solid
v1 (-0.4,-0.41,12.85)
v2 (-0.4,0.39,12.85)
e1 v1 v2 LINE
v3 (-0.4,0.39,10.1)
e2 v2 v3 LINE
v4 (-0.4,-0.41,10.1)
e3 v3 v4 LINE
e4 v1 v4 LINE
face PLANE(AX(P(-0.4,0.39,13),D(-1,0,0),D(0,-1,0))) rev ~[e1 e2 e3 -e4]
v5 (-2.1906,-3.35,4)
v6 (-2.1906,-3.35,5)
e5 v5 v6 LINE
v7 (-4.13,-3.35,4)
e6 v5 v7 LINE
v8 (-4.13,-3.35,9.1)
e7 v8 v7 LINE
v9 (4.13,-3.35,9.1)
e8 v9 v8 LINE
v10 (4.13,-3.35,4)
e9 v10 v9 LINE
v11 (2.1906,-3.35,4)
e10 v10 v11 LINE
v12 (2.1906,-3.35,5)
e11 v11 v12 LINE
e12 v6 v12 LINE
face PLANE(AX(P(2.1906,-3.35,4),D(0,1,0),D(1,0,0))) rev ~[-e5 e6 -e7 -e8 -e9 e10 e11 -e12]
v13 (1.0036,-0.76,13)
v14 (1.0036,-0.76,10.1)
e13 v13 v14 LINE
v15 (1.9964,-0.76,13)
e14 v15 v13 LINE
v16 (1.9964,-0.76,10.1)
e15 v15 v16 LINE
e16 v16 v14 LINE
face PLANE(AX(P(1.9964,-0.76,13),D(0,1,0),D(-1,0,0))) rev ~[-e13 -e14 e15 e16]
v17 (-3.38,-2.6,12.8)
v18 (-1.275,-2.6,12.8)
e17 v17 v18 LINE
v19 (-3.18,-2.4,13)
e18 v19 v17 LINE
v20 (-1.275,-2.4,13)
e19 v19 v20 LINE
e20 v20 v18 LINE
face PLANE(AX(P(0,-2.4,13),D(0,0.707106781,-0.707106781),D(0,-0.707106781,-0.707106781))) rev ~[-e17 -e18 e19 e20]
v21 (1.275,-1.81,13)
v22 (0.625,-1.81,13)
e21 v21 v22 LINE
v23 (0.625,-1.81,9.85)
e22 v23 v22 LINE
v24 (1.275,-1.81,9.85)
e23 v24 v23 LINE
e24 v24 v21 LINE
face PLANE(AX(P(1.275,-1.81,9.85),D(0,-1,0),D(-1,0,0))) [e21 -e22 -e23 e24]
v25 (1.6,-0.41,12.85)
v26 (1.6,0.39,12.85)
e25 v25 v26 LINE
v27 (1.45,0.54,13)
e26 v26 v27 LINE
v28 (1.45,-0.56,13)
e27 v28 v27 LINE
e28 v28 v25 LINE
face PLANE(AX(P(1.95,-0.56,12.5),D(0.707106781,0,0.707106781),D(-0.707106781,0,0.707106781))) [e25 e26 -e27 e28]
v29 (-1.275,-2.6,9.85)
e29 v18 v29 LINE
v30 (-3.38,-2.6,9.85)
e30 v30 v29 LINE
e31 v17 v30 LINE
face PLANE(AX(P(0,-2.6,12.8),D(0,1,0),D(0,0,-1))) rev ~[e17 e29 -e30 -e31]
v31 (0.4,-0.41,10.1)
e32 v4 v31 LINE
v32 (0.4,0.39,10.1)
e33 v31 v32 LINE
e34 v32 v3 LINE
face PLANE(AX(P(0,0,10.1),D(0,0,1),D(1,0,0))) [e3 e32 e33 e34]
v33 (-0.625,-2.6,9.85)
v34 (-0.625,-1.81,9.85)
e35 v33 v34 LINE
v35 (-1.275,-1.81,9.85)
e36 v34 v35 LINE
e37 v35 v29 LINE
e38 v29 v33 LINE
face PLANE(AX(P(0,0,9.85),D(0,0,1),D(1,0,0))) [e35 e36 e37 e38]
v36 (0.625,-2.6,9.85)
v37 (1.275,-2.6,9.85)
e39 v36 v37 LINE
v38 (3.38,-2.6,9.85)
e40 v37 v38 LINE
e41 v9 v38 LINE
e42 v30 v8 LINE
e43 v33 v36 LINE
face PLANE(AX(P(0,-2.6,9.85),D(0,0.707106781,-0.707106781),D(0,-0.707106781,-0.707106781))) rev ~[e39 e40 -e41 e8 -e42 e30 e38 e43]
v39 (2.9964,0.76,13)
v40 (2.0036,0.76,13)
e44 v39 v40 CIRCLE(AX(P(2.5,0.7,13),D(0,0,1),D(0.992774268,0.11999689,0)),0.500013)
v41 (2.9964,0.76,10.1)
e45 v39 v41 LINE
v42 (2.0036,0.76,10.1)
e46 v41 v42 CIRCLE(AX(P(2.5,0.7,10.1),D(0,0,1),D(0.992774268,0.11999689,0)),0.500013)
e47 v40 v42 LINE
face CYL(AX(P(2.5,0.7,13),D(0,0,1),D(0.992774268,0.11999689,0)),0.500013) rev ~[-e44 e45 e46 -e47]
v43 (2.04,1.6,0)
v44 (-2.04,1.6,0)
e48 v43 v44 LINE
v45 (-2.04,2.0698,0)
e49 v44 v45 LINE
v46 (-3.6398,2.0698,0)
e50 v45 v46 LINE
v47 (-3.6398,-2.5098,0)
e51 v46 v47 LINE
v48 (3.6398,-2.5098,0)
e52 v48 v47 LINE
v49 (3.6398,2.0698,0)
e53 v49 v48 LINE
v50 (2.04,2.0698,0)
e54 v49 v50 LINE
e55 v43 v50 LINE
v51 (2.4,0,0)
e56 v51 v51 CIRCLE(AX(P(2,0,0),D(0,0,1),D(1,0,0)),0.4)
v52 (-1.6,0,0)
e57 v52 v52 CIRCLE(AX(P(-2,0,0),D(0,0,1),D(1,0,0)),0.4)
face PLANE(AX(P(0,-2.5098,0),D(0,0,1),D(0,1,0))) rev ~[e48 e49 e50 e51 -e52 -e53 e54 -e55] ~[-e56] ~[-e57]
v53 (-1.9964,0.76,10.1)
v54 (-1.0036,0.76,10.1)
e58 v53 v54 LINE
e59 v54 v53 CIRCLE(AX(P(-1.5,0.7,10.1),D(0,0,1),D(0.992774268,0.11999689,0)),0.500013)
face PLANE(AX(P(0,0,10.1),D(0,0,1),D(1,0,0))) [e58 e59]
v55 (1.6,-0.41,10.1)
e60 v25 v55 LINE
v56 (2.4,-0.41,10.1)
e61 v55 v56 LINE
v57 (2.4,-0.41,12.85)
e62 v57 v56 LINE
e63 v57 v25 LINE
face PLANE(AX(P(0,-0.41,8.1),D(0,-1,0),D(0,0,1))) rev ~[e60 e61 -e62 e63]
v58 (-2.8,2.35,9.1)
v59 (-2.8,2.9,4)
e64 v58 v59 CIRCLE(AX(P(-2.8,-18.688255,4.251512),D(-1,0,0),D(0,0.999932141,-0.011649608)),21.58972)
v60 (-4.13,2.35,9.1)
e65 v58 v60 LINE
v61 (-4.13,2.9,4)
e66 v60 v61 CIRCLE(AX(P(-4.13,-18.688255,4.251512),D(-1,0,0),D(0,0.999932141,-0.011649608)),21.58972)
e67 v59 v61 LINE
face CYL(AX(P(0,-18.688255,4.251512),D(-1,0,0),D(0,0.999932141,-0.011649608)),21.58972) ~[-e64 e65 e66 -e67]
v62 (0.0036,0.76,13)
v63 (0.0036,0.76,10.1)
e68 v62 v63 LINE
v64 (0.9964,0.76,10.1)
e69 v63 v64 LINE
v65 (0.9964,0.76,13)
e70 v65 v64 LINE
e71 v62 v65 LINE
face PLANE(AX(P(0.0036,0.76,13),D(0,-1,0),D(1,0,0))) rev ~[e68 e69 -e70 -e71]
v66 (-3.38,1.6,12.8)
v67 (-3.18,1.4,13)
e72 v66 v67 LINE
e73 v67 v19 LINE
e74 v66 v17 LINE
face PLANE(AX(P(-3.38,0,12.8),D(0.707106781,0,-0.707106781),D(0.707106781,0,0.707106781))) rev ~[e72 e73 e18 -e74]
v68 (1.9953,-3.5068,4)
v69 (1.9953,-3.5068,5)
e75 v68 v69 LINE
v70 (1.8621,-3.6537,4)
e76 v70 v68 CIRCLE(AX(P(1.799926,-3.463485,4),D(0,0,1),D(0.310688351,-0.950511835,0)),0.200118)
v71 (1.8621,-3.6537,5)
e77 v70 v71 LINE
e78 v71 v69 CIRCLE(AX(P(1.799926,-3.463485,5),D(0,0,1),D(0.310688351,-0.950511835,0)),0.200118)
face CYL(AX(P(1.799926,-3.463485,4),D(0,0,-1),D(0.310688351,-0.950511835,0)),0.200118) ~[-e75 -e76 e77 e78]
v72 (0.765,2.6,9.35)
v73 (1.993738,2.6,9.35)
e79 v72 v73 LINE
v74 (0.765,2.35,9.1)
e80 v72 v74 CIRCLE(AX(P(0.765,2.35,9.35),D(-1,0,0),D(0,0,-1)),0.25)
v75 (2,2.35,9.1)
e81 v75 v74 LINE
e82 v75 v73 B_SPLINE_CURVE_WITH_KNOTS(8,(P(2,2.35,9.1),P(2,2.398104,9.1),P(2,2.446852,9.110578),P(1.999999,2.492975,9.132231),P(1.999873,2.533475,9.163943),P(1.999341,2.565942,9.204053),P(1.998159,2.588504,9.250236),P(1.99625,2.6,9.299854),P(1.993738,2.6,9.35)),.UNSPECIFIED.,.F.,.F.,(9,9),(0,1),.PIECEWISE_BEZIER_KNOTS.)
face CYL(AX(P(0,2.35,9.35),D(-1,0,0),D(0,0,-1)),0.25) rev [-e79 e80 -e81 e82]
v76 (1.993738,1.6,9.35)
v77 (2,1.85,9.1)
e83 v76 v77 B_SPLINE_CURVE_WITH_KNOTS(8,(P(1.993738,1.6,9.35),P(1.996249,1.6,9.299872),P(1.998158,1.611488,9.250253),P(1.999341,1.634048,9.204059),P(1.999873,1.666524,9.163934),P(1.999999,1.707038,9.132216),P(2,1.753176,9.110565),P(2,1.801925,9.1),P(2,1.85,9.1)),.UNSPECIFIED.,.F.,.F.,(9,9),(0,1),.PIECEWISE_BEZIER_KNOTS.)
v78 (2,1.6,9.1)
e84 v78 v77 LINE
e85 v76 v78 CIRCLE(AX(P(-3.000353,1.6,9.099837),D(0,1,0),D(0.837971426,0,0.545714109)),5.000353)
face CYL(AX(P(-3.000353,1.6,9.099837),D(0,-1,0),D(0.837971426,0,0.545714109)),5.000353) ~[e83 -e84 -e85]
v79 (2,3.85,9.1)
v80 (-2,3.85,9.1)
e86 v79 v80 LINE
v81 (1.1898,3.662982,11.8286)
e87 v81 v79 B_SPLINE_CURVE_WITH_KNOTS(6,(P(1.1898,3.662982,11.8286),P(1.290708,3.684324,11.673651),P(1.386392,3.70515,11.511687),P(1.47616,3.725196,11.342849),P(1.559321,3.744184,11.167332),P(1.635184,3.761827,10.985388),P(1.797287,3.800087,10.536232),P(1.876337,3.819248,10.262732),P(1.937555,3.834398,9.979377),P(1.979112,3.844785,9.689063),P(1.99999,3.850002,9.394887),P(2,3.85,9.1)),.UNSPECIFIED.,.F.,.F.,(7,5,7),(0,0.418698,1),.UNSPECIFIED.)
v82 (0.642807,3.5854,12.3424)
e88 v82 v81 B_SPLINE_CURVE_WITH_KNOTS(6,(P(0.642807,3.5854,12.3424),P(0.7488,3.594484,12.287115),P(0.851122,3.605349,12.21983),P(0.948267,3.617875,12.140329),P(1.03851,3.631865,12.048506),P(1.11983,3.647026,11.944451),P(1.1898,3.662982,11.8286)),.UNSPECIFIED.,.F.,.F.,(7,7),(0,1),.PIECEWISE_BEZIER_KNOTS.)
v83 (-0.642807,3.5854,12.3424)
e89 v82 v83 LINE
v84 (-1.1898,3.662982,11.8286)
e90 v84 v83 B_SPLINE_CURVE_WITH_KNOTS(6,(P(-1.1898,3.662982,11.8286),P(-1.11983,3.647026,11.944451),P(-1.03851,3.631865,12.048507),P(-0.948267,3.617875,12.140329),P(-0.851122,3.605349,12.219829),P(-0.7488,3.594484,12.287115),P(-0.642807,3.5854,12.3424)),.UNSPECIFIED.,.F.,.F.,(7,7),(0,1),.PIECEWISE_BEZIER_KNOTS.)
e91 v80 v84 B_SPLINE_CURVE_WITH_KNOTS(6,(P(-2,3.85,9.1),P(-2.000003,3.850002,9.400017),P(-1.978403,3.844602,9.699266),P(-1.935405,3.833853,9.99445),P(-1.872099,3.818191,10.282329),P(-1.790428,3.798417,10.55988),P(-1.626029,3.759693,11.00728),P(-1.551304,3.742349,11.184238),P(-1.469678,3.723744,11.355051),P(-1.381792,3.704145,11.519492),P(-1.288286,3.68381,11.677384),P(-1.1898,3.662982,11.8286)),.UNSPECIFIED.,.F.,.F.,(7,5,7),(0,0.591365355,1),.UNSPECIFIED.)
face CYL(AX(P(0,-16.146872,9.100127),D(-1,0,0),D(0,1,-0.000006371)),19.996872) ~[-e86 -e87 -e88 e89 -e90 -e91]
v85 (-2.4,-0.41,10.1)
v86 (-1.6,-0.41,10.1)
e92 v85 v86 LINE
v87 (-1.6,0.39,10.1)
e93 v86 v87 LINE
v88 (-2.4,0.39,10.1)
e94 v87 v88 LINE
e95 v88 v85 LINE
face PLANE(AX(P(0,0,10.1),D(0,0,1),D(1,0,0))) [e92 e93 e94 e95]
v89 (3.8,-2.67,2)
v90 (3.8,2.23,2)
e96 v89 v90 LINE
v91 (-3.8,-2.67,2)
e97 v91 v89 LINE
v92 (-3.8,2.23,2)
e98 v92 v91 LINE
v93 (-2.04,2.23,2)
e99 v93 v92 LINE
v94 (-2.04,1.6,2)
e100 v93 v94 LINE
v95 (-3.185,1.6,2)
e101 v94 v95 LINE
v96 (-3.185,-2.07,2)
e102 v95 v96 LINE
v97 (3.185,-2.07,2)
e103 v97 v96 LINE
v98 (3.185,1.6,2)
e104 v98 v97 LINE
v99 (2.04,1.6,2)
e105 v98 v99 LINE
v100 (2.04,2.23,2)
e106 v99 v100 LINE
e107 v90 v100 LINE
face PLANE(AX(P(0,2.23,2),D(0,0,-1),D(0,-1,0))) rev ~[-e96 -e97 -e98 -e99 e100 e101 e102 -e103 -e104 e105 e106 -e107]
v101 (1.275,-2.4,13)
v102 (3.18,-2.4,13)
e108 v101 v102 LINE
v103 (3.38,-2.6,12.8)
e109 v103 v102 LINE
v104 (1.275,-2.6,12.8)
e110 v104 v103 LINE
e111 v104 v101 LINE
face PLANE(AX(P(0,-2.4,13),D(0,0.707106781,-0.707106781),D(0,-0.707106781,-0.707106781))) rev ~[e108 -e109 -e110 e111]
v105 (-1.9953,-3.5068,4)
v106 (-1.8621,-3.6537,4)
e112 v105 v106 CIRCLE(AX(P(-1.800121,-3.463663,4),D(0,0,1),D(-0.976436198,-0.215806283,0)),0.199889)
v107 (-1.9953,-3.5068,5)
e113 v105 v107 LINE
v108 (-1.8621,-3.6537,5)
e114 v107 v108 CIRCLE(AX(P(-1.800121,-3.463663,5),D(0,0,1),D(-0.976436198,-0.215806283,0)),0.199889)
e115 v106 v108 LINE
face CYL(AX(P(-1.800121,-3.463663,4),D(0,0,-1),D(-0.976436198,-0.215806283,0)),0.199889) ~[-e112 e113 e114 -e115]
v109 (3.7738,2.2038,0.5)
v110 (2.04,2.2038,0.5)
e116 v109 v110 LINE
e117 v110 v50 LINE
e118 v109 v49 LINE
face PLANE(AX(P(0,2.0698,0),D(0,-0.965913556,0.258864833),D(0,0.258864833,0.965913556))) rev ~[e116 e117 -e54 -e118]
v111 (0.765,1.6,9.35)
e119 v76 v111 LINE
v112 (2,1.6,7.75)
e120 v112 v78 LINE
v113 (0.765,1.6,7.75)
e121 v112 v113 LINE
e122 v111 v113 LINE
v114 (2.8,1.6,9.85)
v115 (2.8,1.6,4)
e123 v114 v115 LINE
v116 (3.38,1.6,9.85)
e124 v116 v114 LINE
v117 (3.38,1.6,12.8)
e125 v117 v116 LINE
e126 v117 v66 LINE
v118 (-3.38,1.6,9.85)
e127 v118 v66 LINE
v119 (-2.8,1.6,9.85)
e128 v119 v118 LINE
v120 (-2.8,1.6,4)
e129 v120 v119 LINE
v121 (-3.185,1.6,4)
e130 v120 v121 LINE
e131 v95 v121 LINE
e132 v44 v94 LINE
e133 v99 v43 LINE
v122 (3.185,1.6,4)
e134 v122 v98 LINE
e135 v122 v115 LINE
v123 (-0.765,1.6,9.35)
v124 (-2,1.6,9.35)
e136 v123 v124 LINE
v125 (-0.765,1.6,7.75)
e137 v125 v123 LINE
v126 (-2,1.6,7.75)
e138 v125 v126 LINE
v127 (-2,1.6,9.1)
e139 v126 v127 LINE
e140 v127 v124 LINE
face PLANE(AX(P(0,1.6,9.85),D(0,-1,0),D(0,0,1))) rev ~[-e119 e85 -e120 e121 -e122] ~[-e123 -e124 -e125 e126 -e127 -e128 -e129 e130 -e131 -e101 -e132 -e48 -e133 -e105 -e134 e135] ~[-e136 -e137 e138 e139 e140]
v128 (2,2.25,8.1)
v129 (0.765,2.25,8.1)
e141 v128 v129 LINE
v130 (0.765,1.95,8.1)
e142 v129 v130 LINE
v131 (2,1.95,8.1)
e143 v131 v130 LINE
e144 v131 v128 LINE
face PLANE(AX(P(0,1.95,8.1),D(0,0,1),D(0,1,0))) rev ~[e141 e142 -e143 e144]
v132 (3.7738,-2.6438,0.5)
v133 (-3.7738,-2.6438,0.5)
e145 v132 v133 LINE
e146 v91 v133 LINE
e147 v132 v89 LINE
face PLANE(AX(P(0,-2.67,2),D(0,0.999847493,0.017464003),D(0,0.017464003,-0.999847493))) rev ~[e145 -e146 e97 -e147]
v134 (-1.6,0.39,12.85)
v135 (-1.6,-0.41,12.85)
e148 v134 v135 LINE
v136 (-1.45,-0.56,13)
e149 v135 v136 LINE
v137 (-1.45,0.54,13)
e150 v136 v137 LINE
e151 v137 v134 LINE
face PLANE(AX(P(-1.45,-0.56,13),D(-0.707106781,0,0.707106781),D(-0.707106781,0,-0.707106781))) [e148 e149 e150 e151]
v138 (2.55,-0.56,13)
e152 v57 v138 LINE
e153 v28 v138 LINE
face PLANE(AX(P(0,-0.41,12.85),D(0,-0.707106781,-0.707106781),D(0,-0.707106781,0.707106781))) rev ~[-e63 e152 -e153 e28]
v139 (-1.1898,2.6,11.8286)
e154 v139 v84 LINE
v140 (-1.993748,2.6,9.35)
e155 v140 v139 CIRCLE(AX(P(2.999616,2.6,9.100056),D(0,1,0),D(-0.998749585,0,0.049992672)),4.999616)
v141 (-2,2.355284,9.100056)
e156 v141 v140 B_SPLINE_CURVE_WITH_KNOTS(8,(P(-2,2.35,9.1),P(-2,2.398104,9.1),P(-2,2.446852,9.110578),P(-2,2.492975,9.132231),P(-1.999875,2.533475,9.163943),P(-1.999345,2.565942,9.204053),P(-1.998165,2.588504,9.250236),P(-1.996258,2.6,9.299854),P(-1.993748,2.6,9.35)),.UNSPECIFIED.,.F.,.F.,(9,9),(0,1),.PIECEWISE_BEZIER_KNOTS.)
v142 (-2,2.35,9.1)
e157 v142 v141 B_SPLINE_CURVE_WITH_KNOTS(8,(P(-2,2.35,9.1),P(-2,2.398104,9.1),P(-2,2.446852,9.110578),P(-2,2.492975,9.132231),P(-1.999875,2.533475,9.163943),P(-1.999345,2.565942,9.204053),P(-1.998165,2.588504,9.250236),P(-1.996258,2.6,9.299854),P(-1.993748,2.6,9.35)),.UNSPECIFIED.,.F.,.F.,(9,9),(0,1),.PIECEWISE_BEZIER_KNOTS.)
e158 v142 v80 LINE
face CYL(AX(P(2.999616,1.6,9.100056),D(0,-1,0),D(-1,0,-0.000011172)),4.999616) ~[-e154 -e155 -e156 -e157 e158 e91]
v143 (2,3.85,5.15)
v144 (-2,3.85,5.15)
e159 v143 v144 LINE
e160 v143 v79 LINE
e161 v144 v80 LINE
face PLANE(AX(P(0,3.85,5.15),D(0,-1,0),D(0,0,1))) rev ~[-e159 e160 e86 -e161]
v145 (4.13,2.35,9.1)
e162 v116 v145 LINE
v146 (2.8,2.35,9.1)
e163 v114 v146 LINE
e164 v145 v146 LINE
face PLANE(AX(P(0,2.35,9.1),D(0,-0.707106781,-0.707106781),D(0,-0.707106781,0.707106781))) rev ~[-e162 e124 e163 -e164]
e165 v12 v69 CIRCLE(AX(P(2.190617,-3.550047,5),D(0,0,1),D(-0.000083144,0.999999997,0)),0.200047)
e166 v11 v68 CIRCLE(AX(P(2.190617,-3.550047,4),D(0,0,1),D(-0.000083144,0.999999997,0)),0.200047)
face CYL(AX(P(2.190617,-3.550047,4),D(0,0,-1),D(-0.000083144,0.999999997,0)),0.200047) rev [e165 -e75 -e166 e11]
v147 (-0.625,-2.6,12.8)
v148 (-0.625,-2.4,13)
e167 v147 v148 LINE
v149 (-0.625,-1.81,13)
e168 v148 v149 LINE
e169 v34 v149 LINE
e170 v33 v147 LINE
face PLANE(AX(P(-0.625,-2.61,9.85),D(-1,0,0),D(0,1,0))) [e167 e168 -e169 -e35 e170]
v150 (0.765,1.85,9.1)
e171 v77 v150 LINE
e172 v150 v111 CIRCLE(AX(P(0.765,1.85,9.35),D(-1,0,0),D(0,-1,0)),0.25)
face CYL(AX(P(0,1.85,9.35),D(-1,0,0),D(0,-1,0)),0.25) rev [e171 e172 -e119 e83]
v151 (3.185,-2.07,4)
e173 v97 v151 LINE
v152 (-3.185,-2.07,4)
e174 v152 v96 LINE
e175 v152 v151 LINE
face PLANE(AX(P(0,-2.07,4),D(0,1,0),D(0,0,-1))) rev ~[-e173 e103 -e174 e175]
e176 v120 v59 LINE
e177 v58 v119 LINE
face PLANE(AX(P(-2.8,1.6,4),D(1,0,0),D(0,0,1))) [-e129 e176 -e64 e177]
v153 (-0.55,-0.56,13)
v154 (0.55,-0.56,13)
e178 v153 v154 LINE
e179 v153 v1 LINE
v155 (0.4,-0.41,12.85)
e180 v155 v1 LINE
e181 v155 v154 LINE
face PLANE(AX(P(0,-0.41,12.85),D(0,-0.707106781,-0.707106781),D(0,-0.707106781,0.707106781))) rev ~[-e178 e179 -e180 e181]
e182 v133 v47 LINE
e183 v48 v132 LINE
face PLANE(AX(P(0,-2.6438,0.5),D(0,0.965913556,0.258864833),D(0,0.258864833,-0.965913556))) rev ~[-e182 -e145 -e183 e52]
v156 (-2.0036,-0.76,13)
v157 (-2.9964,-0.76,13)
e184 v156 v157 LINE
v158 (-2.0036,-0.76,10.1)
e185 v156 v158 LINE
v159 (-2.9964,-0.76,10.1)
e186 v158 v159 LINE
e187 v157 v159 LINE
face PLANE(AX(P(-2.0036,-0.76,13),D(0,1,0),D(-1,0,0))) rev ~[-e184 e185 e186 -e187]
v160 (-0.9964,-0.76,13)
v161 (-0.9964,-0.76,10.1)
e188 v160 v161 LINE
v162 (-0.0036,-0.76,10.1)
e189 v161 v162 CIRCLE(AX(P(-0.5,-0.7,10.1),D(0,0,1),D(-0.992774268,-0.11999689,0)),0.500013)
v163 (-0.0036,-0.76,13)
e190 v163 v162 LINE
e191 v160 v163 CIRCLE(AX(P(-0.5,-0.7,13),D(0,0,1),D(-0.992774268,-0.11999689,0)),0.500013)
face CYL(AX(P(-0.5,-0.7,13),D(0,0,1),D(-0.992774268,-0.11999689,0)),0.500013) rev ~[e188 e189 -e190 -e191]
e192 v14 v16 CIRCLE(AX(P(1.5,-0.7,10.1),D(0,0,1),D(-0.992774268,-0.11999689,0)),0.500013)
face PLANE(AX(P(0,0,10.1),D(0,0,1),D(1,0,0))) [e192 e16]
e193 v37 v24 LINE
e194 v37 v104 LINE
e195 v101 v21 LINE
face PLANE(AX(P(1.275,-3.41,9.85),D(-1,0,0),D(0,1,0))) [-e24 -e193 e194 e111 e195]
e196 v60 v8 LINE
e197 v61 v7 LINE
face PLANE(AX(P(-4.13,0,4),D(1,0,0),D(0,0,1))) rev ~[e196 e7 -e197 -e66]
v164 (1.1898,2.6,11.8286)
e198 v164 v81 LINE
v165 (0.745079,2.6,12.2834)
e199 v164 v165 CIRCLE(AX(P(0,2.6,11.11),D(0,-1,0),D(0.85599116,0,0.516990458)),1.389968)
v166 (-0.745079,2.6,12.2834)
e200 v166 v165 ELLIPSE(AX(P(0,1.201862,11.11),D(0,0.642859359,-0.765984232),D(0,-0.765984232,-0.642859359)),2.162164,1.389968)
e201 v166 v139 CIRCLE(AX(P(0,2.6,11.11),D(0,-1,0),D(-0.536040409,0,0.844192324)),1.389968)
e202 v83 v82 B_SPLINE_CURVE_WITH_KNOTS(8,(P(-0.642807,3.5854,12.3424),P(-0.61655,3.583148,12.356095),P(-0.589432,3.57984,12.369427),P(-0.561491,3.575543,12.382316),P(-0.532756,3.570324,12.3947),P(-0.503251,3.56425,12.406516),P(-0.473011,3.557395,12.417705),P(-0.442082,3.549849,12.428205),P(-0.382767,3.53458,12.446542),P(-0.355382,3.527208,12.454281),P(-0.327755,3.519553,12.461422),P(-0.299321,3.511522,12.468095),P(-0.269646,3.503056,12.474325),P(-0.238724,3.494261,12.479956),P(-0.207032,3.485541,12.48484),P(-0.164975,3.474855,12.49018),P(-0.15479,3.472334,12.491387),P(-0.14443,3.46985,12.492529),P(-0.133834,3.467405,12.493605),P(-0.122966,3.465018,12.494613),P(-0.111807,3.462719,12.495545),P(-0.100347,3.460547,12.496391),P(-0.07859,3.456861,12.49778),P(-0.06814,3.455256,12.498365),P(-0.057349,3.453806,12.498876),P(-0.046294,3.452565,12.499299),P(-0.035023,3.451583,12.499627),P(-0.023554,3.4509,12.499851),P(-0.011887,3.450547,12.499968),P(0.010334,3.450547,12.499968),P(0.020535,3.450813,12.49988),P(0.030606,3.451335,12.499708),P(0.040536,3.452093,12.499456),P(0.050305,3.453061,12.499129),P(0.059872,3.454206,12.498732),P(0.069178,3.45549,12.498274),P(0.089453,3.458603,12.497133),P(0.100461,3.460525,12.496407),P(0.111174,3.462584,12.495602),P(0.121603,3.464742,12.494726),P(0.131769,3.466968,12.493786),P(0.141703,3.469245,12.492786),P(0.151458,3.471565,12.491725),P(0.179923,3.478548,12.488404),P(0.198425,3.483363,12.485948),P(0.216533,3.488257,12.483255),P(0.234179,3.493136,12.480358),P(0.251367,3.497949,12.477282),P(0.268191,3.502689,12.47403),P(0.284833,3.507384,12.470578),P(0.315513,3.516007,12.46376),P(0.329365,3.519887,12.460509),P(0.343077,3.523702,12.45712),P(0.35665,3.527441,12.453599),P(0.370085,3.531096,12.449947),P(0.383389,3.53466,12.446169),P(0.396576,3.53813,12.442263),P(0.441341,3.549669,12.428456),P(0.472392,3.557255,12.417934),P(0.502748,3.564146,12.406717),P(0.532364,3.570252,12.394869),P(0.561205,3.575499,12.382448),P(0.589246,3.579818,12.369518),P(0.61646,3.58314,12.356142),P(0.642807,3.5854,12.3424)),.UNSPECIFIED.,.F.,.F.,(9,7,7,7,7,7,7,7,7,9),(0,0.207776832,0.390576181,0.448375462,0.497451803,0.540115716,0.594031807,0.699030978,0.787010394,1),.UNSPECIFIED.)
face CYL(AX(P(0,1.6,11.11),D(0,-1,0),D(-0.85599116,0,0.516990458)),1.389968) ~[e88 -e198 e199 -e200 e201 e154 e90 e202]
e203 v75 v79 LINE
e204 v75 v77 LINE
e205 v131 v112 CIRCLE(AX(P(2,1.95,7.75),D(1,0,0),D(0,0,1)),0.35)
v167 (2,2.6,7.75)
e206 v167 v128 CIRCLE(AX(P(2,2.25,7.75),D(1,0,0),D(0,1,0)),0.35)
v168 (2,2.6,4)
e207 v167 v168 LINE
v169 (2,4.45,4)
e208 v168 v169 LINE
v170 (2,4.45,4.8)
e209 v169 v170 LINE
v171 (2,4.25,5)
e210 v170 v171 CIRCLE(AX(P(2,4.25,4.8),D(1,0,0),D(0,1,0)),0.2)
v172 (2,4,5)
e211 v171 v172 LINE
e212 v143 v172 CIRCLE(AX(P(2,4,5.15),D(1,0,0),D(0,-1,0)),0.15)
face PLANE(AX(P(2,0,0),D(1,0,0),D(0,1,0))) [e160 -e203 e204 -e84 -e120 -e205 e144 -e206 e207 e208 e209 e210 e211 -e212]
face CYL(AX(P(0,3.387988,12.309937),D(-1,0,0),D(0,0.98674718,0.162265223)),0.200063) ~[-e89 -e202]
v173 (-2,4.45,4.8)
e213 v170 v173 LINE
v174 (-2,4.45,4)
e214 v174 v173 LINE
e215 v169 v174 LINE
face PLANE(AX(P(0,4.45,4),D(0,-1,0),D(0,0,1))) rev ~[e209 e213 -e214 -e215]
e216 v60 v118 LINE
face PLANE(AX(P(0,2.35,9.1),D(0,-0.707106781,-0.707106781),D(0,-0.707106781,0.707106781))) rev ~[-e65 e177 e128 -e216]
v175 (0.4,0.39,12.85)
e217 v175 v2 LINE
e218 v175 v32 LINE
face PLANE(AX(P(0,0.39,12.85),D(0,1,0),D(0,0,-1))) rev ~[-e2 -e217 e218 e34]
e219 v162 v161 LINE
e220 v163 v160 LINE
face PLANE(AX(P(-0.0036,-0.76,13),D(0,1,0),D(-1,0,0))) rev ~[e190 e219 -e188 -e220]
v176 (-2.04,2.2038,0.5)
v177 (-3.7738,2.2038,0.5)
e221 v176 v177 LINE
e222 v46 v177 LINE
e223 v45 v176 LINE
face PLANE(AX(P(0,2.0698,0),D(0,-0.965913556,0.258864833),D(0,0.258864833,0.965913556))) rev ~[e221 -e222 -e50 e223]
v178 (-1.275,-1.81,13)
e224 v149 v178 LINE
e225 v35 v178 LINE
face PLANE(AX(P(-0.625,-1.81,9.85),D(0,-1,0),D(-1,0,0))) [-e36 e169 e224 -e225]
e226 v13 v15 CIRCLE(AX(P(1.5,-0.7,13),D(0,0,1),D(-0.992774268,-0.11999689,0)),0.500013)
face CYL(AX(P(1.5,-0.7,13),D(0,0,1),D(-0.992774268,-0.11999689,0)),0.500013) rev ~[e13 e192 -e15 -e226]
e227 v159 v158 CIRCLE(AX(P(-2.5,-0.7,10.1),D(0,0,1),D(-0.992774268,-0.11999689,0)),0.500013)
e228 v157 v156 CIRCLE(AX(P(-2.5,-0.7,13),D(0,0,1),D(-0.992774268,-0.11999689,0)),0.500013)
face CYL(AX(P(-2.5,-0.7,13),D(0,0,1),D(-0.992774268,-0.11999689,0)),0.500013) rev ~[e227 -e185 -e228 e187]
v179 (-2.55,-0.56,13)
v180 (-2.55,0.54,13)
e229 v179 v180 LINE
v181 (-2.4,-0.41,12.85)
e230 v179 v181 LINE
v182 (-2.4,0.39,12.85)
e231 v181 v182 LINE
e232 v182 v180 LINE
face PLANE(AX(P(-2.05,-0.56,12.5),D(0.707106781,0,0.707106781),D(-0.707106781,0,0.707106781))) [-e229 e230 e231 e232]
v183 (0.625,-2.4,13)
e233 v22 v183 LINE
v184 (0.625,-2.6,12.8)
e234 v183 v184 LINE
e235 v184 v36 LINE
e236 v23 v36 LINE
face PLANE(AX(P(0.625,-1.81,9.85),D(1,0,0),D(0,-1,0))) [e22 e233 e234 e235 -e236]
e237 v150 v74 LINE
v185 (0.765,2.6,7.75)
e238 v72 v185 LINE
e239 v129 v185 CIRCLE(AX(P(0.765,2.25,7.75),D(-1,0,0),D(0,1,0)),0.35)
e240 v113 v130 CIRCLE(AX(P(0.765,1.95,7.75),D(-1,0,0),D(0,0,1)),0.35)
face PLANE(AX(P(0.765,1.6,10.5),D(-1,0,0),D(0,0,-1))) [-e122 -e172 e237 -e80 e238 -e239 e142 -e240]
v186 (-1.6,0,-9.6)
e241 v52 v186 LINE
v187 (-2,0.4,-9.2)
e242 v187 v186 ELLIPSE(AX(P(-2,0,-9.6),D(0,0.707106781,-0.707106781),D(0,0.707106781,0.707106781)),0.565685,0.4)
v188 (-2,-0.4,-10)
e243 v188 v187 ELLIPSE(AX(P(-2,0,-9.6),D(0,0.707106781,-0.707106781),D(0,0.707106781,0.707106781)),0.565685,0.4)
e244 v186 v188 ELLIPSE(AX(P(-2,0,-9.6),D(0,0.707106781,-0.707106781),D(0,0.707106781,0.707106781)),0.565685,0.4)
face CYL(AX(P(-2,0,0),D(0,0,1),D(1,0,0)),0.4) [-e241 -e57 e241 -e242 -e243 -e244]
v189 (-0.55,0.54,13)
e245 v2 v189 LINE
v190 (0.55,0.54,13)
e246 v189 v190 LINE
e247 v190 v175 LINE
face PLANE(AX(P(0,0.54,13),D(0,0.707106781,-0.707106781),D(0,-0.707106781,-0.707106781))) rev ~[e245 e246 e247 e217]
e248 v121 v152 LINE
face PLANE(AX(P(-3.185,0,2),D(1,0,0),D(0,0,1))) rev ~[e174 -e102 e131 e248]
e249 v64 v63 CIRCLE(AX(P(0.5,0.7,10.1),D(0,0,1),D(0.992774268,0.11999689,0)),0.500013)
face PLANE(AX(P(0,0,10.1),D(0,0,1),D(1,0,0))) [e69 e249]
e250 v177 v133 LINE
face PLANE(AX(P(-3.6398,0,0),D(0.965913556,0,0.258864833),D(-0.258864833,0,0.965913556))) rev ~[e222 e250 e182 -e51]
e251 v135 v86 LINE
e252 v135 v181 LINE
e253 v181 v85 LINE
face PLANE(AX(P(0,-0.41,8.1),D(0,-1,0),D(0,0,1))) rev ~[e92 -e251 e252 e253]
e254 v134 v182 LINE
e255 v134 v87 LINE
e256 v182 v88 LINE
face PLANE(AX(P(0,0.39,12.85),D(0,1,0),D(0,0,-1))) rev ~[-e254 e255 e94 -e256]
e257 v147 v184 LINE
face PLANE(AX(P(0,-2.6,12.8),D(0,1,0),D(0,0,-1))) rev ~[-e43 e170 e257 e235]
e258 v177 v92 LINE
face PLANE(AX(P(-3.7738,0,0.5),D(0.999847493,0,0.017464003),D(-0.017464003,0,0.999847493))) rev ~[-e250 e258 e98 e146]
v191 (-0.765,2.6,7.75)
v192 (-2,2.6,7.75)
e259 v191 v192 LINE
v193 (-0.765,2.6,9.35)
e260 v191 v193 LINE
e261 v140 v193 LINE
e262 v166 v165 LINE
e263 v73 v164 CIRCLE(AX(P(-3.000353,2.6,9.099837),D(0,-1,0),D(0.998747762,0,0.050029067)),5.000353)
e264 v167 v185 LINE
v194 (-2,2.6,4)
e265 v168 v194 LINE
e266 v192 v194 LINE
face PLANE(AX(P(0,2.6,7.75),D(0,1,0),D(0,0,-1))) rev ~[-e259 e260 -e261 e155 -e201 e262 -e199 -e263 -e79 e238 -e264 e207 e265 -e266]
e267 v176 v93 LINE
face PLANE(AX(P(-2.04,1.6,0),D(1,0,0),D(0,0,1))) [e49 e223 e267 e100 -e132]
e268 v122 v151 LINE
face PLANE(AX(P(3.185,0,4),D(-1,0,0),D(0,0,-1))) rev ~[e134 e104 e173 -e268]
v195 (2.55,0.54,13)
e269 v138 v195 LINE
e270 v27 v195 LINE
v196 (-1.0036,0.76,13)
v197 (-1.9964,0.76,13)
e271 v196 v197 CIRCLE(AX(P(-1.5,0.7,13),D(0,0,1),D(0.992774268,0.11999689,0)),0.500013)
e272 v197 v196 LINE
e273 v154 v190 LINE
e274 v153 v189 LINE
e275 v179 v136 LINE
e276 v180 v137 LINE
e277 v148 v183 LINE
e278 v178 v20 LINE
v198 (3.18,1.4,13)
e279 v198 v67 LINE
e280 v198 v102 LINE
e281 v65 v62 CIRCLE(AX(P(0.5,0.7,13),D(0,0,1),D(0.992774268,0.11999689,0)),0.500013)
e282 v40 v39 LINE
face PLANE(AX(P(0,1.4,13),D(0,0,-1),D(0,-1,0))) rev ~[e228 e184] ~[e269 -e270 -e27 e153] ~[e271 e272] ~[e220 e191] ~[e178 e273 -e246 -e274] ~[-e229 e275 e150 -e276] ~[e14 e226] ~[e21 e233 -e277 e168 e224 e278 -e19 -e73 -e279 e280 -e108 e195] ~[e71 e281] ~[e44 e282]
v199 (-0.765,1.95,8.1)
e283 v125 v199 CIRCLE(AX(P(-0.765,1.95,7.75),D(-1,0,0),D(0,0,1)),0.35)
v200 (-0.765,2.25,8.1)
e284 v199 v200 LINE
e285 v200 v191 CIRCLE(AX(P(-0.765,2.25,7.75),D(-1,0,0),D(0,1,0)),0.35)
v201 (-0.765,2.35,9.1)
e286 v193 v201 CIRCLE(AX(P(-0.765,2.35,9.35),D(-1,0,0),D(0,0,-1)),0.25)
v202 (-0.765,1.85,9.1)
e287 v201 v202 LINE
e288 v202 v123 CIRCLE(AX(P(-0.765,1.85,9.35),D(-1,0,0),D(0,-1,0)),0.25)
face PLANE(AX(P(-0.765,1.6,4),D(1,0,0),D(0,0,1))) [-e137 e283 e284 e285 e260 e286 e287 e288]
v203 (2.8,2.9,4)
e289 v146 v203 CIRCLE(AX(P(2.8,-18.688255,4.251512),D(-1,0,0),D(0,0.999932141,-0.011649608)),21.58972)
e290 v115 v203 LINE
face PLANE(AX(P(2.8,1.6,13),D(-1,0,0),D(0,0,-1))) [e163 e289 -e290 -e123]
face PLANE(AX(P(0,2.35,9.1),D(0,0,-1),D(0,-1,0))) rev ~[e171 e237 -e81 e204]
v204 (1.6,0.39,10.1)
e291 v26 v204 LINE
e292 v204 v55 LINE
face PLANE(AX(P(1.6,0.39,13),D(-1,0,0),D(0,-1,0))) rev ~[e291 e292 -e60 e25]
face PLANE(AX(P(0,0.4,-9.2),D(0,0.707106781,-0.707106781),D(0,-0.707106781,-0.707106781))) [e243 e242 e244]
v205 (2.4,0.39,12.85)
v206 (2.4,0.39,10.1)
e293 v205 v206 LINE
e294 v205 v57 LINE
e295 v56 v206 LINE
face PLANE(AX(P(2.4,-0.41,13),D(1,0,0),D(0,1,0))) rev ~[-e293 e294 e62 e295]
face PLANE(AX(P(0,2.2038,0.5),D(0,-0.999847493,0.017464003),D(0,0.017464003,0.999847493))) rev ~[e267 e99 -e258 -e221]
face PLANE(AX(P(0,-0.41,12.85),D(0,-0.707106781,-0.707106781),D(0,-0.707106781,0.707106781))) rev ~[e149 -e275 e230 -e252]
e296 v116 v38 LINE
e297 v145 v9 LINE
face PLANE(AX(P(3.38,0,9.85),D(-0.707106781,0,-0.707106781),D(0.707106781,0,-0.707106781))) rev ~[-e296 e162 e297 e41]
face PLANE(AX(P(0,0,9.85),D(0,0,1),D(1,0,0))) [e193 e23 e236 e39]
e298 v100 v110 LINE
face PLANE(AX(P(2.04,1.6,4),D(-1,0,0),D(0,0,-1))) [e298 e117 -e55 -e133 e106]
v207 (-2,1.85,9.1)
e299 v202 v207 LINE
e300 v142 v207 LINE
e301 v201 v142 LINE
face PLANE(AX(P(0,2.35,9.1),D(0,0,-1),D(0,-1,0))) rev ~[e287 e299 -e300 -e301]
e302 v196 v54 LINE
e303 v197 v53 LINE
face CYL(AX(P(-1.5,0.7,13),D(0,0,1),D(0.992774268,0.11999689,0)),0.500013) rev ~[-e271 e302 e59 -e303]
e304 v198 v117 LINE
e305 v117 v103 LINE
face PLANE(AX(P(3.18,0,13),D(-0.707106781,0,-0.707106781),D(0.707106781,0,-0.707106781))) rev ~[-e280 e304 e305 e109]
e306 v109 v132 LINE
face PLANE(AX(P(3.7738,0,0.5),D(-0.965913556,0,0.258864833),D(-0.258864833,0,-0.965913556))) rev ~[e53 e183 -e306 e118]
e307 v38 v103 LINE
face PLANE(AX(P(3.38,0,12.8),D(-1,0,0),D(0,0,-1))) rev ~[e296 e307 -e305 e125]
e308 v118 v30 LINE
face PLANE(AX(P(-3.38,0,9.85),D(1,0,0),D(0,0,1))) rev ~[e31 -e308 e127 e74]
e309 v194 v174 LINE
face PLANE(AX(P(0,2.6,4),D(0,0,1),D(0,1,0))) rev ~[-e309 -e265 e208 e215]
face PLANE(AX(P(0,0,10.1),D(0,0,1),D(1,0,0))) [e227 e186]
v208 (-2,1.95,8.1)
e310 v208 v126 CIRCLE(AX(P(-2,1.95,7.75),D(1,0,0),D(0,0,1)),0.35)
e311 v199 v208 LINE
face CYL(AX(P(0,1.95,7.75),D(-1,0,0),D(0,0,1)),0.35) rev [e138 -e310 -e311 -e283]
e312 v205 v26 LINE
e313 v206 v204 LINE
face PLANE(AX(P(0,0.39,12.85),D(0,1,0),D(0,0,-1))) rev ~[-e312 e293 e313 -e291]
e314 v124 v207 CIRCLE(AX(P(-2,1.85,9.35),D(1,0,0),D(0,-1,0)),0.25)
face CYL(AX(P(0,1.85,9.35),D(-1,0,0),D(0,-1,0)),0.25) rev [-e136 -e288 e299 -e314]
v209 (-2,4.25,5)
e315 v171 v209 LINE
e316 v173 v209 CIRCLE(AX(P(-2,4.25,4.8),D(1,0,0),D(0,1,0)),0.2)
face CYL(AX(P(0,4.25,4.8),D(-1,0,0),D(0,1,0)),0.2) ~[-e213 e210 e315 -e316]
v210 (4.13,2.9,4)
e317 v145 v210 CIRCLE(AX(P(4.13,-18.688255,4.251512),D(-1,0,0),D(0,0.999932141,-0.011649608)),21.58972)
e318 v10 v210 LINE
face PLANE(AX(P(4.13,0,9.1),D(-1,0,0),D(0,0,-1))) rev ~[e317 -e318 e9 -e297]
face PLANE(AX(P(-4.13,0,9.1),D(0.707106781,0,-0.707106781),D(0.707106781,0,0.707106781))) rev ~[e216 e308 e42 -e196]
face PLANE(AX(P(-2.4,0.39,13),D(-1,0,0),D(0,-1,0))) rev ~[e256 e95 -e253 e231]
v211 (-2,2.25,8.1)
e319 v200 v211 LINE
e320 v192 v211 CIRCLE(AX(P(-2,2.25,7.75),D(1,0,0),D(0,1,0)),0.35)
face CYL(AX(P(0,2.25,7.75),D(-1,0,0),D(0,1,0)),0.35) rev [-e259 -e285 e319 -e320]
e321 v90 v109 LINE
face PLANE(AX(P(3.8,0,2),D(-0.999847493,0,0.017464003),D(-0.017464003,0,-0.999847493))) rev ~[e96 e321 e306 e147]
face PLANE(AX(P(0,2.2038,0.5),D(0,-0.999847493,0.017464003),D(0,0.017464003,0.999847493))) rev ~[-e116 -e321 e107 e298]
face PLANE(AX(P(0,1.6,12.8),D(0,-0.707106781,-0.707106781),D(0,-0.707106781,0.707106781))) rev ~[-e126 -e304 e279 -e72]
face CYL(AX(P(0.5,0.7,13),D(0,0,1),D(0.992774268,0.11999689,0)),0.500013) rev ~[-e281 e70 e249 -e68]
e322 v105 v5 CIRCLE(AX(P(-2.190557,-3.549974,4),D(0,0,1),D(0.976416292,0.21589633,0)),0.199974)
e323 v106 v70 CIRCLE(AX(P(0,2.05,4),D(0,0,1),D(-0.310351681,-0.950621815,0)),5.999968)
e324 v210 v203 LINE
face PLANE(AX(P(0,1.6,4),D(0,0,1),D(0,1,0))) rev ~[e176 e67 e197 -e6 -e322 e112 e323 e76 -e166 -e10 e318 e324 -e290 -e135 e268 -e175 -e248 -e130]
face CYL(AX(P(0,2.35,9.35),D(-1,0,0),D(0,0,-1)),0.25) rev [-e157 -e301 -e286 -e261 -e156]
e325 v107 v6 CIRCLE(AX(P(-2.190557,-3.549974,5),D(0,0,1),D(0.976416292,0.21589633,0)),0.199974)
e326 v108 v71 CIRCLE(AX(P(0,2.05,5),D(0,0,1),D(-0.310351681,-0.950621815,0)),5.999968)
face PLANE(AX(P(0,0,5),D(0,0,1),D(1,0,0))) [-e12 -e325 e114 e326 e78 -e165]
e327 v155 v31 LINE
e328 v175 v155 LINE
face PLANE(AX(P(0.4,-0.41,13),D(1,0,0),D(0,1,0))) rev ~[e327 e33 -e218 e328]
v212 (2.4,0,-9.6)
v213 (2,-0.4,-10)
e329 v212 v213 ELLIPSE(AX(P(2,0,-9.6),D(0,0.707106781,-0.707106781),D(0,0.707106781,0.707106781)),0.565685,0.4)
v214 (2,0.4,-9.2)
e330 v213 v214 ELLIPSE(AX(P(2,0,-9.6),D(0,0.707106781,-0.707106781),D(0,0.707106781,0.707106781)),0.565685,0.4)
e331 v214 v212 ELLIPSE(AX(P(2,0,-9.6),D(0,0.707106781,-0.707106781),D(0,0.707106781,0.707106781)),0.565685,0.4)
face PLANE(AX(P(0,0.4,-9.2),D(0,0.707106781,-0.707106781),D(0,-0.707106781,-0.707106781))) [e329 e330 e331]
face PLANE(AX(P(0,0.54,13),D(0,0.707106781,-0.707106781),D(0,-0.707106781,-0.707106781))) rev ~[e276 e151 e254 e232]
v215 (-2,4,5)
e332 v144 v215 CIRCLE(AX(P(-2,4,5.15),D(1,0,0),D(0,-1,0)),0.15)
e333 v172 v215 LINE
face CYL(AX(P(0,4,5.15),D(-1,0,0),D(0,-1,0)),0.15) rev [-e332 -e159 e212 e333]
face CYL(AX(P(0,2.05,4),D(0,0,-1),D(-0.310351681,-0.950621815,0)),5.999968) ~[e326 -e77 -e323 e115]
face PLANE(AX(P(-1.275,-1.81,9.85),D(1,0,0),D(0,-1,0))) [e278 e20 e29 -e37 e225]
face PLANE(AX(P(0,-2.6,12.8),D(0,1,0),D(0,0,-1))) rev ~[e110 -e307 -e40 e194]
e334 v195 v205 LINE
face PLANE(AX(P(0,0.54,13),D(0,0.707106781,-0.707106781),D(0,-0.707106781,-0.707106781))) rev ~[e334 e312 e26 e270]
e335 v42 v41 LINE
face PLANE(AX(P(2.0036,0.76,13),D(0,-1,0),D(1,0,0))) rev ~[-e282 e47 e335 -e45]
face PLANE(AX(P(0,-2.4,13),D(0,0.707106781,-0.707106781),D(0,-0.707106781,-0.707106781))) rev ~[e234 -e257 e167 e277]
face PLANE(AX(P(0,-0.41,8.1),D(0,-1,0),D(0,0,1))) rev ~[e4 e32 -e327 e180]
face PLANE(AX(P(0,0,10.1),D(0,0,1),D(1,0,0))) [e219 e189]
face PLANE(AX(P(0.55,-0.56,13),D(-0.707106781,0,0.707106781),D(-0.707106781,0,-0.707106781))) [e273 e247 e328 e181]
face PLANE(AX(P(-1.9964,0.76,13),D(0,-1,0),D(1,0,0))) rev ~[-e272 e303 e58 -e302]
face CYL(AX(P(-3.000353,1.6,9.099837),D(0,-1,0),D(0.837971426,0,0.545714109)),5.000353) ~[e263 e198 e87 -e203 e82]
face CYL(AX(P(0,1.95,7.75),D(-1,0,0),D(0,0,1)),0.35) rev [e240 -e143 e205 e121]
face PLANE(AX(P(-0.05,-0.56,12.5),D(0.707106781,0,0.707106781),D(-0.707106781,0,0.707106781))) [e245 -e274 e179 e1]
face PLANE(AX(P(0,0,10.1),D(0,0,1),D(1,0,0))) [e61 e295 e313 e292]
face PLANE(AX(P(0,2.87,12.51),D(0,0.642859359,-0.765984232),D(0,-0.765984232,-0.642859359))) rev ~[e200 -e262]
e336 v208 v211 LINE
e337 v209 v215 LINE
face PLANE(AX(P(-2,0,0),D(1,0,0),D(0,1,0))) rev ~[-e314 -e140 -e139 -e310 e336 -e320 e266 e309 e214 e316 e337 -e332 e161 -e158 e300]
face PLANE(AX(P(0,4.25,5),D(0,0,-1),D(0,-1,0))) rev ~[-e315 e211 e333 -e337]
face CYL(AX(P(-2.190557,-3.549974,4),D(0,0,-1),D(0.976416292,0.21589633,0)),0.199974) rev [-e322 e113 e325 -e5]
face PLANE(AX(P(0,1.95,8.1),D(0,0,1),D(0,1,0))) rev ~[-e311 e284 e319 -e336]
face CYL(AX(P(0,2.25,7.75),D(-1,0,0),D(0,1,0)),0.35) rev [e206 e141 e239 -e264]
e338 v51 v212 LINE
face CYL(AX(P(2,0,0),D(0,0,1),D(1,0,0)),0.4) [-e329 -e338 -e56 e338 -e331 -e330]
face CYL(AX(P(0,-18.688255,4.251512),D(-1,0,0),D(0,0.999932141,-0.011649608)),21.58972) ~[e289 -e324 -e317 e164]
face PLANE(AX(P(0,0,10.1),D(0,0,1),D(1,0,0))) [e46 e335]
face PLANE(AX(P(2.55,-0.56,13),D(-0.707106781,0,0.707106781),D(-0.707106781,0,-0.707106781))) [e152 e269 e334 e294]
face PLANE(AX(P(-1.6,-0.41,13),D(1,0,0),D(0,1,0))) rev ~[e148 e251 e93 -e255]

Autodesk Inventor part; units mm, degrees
sketch "Sketch_9" plane through (0, 0, 0) normal (1, 0, 0) x (0, 1, 0)
  line L0 (-2.4, 13) -> (-2.6, 12.8)
  line L1 (-2.6, 12.8) -> (-2.6, 9.85)
  line L2 (-2.6, 9.85) -> (-3.35, 9.1)
  line L3 (-3.35, 9.1) -> (-3.35, 4)
  line L4 (-3.35, 4) -> (-2.07, 4)
  line L5 (-2.07, 4) -> (-2.07, 2)
  line L6 (-2.07, 2) -> (-2.67, 2)
  line L7 (-2.67, 2) -> (-2.6438, 0.5)
  line L8 (-2.6438, 0.5) -> (-2.5098, 0)
  line L9 (-2.5098, 0) -> (2.0698, 0)
  line L10 (2.0698, 0) -> (2.2038, 0.5)
  line L11 (2.2038, 0.5) -> (2.23, 2)
  line L12 (2.23, 2) -> (1.6, 2)
  line L13 (1.6, 2) -> (1.6, 4)
  line L14 (1.6, 4) -> (2.9, 4)
  arc A0 (2.9, 4) -> (2.35, 9.1) centre (-18.6885, 4.2515) ccw
  line L15 (2.35, 9.1) -> (1.6, 9.85)
  line L16 (1.6, 9.85) -> (1.6, 12.8)
  line L17 (1.6, 12.8) -> (1.4, 13)
  line L18 (1.4, 13) -> (-2.4, 13)
extrude "Extrusion1" add sketch "Sketch_9" along normal mid plane 8.3
sketch "Sketch_23" plane through (0, 0, 0) normal (0, 1, 0) x (-1, 0, 0)
  line L0 (5, -1) -> (5, 14)
  line L1 (5, 14) -> (-5, 14)
  line L2 (-5, 14) -> (-5, -1)
  line L3 (-5, -1) -> (5, -1)
  line L4 (4.13, 4) -> (4.13, 9.1)
  line L5 (4.13, 9.1) -> (3.38, 9.85)
  line L6 (3.38, 9.85) -> (3.38, 12.8)
  line L7 (3.38, 12.8) -> (3.18, 13)
  line L8 (3.18, 13) -> (-3.18, 13)
  line L9 (-3.18, 13) -> (-3.38, 12.8)
  line L10 (-3.38, 12.8) -> (-3.38, 9.85)
  line L11 (-3.38, 9.85) -> (-4.13, 9.1)
  line L12 (-4.13, 9.1) -> (-4.13, 4)
  line L13 (-4.13, 4) -> (-3.185, 4)
  line L14 (-3.185, 4) -> (-3.185, 2)
  line L15 (-3.185, 2) -> (-3.8, 2)
  line L16 (-3.8, 2) -> (-3.7738, 0.5)
  line L17 (-3.7738, 0.5) -> (-3.6398, 0)
  line L18 (-3.6398, 0) -> (3.6398, 0)
  line L19 (3.6398, 0) -> (3.7738, 0.5)
  line L20 (3.7738, 0.5) -> (3.8, 2)
  line L21 (3.8, 2) -> (3.185, 2)
  line L22 (3.185, 2) -> (3.185, 4)
  line L23 (3.185, 4) -> (4.13, 4)
extrude "Extrusion2" cut sketch "Sketch_23" along normal mid plane 12
sketch "Sketch_1" plane through (0, 1.6, 0) normal (0, 1, 0) x (1, 0, 0)
  line L0 (-2.8, -13) -> (2.8, -13)
  line L1 (2.8, -13) -> (2.8, -4)
  line L2 (2.8, -4) -> (2.04, -4)
  line L3 (2.04, -4) -> (2.04, 0)
  line L4 (2.04, 0) -> (-2.04, 0)
  line L5 (-2.04, 0) -> (-2.04, -4)
  line L6 (-2.04, -4) -> (-2.8, -4)
  line L7 (-2.8, -4) -> (-2.8, -13)
extrude "Extrusion3" cut sketch "Sketch_1" along normal blind 2
sketch "Sketch_2" plane through (0, 0, 0) normal (1, 0, 0) x (0, 1, 0)
  line L0 (2.87, 12.51) -> (2.6, 12.2834)
  line L1 (2.6, 12.2834) -> (2.6, 9.35)
  arc A0 (2.35, 9.1) -> (2.6, 9.35) centre (2.35, 9.35) ccw
  line L2 (2.35, 9.1) -> (1.85, 9.1)
  arc A1 (1.6, 9.35) -> (1.85, 9.1) centre (1.85, 9.35) ccw
  line L3 (1.6, 9.35) -> (0.6, 9.35)
  line L4 (0.6, 9.35) -> (0.6, 7.75)
  line L5 (0.6, 7.75) -> (1.6, 7.75)
  arc A2 (1.95, 8.1) -> (1.6, 7.75) centre (1.95, 7.75) ccw
  line L6 (1.95, 8.1) -> (2.25, 8.1)
  arc A3 (2.6, 7.75) -> (2.25, 8.1) centre (2.25, 7.75) ccw
  line L7 (2.6, 7.75) -> (2.6, 4)
  line L8 (2.6, 4) -> (4.45, 4)
  line L9 (4.45, 4) -> (4.45, 4.8)
  arc A4 (4.45, 4.8) -> (4.25, 5) centre (4.25, 4.8) ccw
  line L10 (4.25, 5) -> (4, 5)
  arc A5 (3.85, 5.15) -> (4, 5) centre (4, 5.15) ccw
  line L11 (3.85, 5.15) -> (3.85, 9.1)
  arc A6 (3.85, 9.1) -> (3.5854, 12.3424) centre (-16.15, 9.1) ccw
  arc A7 (3.5854, 12.3424) -> (3.3881, 12.51) centre (3.3881, 12.31) ccw
  line L12 (3.3881, 12.51) -> (2.87, 12.51)
extrude "Extrusion4" add sketch "Sketch_2" along normal mid plane 4
sketch "Sketch_3" plane through (0, 1.6, 0) normal (0, 1, 0) x (1, 0, 0)
  line L0 (-2.2, -3.8) -> (-2.2, -12.8)
  line L1 (-2.2, -12.8) -> (2.2, -12.8)
  line L2 (2.2, -12.8) -> (2.2, -3.8)
  line L3 (2.2, -3.8) -> (-2.2, -3.8)
  line L4 (-2, -4) -> (-2, -9.1)
  arc A0 (-2, -9.1) -> (-1.1898, -11.8286) centre (3, -9.1) ccw
  arc A1 (-1.1898, -11.8286) -> (1.1898, -11.8286) centre (0, -11.11) ccw
  arc A2 (1.1898, -11.8286) -> (2, -9.1) centre (-3, -9.1) ccw
  line L5 (2, -9.1) -> (2, -4)
  line L6 (2, -4) -> (-2, -4)
extrude "Extrusion5" cut sketch "Sketch_3" along normal blind 3
sketch "Sketch_4" plane through (0, 1.6, 0) normal (0, 1, 0) x (1, 0, 0)
  line L0 (-2, -13) -> (-0.765, -13)
  line L1 (-0.765, -13) -> (-0.765, -10.7)
  line L2 (-0.765, -10.7) -> (0.765, -10.7)
  line L3 (0.765, -10.7) -> (0.765, -13)
  line L4 (0.765, -13) -> (2, -13)
  line L5 (2, -13) -> (2, -10.5)
  line L6 (2, -10.5) -> (0.765, -10.5)
  line L7 (0.765, -10.5) -> (0.765, -4)
  line L8 (0.765, -4) -> (2, -4)
  line L9 (2, -4) -> (2, -3)
  line L10 (2, -3) -> (-2, -3)
  line L11 (-2, -3) -> (-2, -4)
  line L12 (-2, -4) -> (-0.765, -4)
  line L13 (-0.765, -4) -> (-0.765, -10.5)
  line L14 (-0.765, -10.5) -> (-2, -10.5)
  line L15 (-2, -10.5) -> (-2, -13)
extrude "Extrusion6" cut sketch "Sketch_4" along normal blind 1
sketch "Sketch_5" plane through (0, 0, 4) normal (0, 0, 1) x (1, 0, 0)
  line L0 (-2.3, -3.35) -> (-2.1906, -3.35)
  arc A0 (-1.9953, -3.5068) -> (-2.1906, -3.35) centre (-2.1906, -3.55) ccw
  arc A1 (-1.9953, -3.5068) -> (-1.8621, -3.6537) centre (-1.8, -3.4636) ccw
  arc A2 (-1.8621, -3.6537) -> (1.8621, -3.6537) centre (0, 2.05) ccw
  arc A3 (1.8621, -3.6537) -> (1.9953, -3.5068) centre (1.8, -3.4636) ccw
  arc A4 (2.1906, -3.35) -> (1.9953, -3.5068) centre (2.1906, -3.55) ccw
  line L1 (2.1906, -3.35) -> (2.3, -3.35)
  line L2 (2.3, -3.35) -> (2, 0)
  line L3 (2, 0) -> (-2, 0)
  line L4 (-2, 0) -> (-2.3, -3.35)
extrude "Extrusion7" add sketch "Sketch_5" along normal blind 1
sketch "Sketch_6" plane through (0, 0, 9.85) normal (0, 0, 1) x (1, 0, 0)
  line L0 (-1.275, -3.41) -> (1.275, -3.41)
  line L1 (1.275, -3.41) -> (1.275, -1.81)
  line L2 (1.275, -1.81) -> (0.625, -1.81)
  line L3 (0.625, -1.81) -> (0.625, -2.61)
  line L4 (0.625, -2.61) -> (-0.625, -2.61)
  line L5 (-0.625, -2.61) -> (-0.625, -1.81)
  line L6 (-0.625, -1.81) -> (-1.275, -1.81)
  line L7 (-1.275, -1.81) -> (-1.275, -3.41)
extrude "Extrusion8" cut sketch "Sketch_6" along normal blind 3.2
sketch "Sketch_19" plane through (0, 0, 13) normal (0, 0, 1) x (1, 0, 0)
  line L0 (-2.4, -0.41) -> (-1.6, -0.41)
  line L1 (-1.6, -0.41) -> (-1.6, 0.39)
  line L2 (-1.6, 0.39) -> (-2.4, 0.39)
  line L3 (-2.4, 0.39) -> (-2.4, -0.41)
extrude "Extrusion9" cut sketch "Sketch_19" against normal blind 2.9
sketch "Sketch_20" plane through (0, 0, 13) normal (0, 0, 1) x (1, 0, 0)
  line L0 (-0.4, -0.41) -> (0.4, -0.41)
  line L1 (0.4, -0.41) -> (0.4, 0.39)
  line L2 (0.4, 0.39) -> (-0.4, 0.39)
  line L3 (-0.4, 0.39) -> (-0.4, -0.41)
extrude "Extrusion10" cut sketch "Sketch_20" against normal blind 2.9
sketch "Sketch_21" plane through (0, 0, 13) normal (0, 0, 1) x (1, 0, 0)
  line L0 (1.6, -0.41) -> (2.4, -0.41)
  line L1 (2.4, -0.41) -> (2.4, 0.39)
  line L2 (2.4, 0.39) -> (1.6, 0.39)
  line L3 (1.6, 0.39) -> (1.6, -0.41)
extrude "Extrusion11" cut sketch "Sketch_21" against normal blind 2.9
sketch "Sketch_7" plane through (0, 0, 13) normal (0, 0, 1) x (1, 0, 0)
  arc A0 (-2.9964, -0.76) -> (-2.0036, -0.76) centre (-2.5, -0.7) ccw
  line L0 (-2.0036, -0.76) -> (-2.9964, -0.76)
extrude "Extrusion12" cut sketch "Sketch_7" against normal blind 2.9
sketch "Sketch_8" plane through (0, 0, 13) normal (0, 0, 1) x (1, 0, 0)
  line L0 (0.0036, 0.76) -> (0.9964, 0.76)
  arc A0 (0.9964, 0.76) -> (0.0036, 0.76) centre (0.5, 0.7) ccw
extrude "Extrusion13" cut sketch "Sketch_8" against normal blind 2.9
sketch "Sketch_10" plane through (0, 0, 13) normal (0, 0, 1) x (1, 0, 0)
  line L0 (2.0036, 0.76) -> (2.9964, 0.76)
  arc A0 (2.9964, 0.76) -> (2.0036, 0.76) centre (2.5, 0.7) ccw
extrude "Extrusion14" cut sketch "Sketch_10" against normal blind 2.9
sketch "Sketch_11" plane through (0, 0, 13) normal (0, 0, 1) x (1, 0, 0)
  line L0 (-1.9964, 0.76) -> (-1.0036, 0.76)
  arc A0 (-1.0036, 0.76) -> (-1.9964, 0.76) centre (-1.5, 0.7) ccw
extrude "Extrusion15" cut sketch "Sketch_11" against normal blind 2.9
sketch "Sketch_12" plane through (0, 0, 13) normal (0, 0, 1) x (1, 0, 0)
  arc A0 (-0.9964, -0.76) -> (-0.0036, -0.76) centre (-0.5, -0.7) ccw
  line L0 (-0.0036, -0.76) -> (-0.9964, -0.76)
extrude "Extrusion16" cut sketch "Sketch_12" against normal blind 2.9
sketch "Sketch_13" plane through (0, 0, 13) normal (0, 0, 1) x (1, 0, 0)
  arc A0 (1.0036, -0.76) -> (1.9964, -0.76) centre (1.5, -0.7) ccw
  line L0 (1.9964, -0.76) -> (1.0036, -0.76)
extrude "Extrusion17" cut sketch "Sketch_13" against normal blind 2.9
sketch "Sketch_14" plane through (0, -0.56, 0) normal (0, 1, 0) x (1, 0, 0)
  line L0 (-2.55, -13.5) -> (2.55, -13.5)
  line L1 (2.55, -13.5) -> (2.55, -13)
  line L2 (2.55, -13) -> (2.05, -12.5)
  line L3 (2.05, -12.5) -> (1.95, -12.5)
  line L4 (1.95, -12.5) -> (1.45, -13)
  line L5 (1.45, -13) -> (0.55, -13)
  line L6 (0.55, -13) -> (0.05, -12.5)
  line L7 (0.05, -12.5) -> (-0.05, -12.5)
  line L8 (-0.05, -12.5) -> (-0.55, -13)
  line L9 (-0.55, -13) -> (-1.45, -13)
  line L10 (-1.45, -13) -> (-1.95, -12.5)
  line L11 (-1.95, -12.5) -> (-2.05, -12.5)
  line L12 (-2.05, -12.5) -> (-2.55, -13)
  line L13 (-2.55, -13) -> (-2.55, -13.5)
extrude "Extrusion18" cut sketch "Sketch_14" along normal blind 1.1
sketch "Sketch_15" plane through (0, 0, 0) normal (1, 0, 0) x (0, 1, 0)
  line L0 (-0.56, 13) -> (-0.56, 8)
  line L1 (-0.56, 8) -> (0.54, 8)
  line L2 (0.54, 8) -> (0.54, 13)
  line L3 (0.54, 13) -> (0.39, 12.85)
  line L4 (0.39, 12.85) -> (0.39, 8.1)
  line L5 (0.39, 8.1) -> (-0.41, 8.1)
  line L6 (-0.41, 8.1) -> (-0.41, 12.85)
  line L7 (-0.41, 12.85) -> (-0.56, 13)
extrude "Extrusion19" add sketch "Sketch_15" along normal mid plane 6
sketch "Sketch_16" plane through (0, 0, 0) normal (0, 0, 1) x (1, 0, 0)
  circle A0 centre (2, 0) radius 0.4
extrude "Extrusion20" add sketch "Sketch_16" against normal blind 10
sketch "Sketch_17" plane through (0, 0, 0) normal (0, 0, 1) x (1, 0, 0)
  circle A0 centre (-2, 0) radius 0.4
extrude "Extrusion21" add sketch "Sketch_17" against normal blind 10
sketch "Sketch_18" plane through (0, 0, 0) normal (1, 0, 0) x (0, 1, 0)
  line L0 (0.4, -9.2) -> (-0.4, -10)
  line L1 (-0.4, -10) -> (0.4, -10)
  line L2 (0.4, -10) -> (0.4, -9.2)
extrude "Extrusion22" cut sketch "Sketch_18" along normal mid plane 5
ref_plane "NEBV_XY" through (0, 0.1, 13) normal (0, 0, 1) x (1, 0, 0)
ref_plane "NEBV_YZ" through (0, 0.1, 13) normal (1, 0, 0) x (0, 1, 0)
ref_plane "NEBV_ZX" through (0, 0.1, 13) normal (0, 1, 0) x (0, 0, 1)
properties part number "566654"
